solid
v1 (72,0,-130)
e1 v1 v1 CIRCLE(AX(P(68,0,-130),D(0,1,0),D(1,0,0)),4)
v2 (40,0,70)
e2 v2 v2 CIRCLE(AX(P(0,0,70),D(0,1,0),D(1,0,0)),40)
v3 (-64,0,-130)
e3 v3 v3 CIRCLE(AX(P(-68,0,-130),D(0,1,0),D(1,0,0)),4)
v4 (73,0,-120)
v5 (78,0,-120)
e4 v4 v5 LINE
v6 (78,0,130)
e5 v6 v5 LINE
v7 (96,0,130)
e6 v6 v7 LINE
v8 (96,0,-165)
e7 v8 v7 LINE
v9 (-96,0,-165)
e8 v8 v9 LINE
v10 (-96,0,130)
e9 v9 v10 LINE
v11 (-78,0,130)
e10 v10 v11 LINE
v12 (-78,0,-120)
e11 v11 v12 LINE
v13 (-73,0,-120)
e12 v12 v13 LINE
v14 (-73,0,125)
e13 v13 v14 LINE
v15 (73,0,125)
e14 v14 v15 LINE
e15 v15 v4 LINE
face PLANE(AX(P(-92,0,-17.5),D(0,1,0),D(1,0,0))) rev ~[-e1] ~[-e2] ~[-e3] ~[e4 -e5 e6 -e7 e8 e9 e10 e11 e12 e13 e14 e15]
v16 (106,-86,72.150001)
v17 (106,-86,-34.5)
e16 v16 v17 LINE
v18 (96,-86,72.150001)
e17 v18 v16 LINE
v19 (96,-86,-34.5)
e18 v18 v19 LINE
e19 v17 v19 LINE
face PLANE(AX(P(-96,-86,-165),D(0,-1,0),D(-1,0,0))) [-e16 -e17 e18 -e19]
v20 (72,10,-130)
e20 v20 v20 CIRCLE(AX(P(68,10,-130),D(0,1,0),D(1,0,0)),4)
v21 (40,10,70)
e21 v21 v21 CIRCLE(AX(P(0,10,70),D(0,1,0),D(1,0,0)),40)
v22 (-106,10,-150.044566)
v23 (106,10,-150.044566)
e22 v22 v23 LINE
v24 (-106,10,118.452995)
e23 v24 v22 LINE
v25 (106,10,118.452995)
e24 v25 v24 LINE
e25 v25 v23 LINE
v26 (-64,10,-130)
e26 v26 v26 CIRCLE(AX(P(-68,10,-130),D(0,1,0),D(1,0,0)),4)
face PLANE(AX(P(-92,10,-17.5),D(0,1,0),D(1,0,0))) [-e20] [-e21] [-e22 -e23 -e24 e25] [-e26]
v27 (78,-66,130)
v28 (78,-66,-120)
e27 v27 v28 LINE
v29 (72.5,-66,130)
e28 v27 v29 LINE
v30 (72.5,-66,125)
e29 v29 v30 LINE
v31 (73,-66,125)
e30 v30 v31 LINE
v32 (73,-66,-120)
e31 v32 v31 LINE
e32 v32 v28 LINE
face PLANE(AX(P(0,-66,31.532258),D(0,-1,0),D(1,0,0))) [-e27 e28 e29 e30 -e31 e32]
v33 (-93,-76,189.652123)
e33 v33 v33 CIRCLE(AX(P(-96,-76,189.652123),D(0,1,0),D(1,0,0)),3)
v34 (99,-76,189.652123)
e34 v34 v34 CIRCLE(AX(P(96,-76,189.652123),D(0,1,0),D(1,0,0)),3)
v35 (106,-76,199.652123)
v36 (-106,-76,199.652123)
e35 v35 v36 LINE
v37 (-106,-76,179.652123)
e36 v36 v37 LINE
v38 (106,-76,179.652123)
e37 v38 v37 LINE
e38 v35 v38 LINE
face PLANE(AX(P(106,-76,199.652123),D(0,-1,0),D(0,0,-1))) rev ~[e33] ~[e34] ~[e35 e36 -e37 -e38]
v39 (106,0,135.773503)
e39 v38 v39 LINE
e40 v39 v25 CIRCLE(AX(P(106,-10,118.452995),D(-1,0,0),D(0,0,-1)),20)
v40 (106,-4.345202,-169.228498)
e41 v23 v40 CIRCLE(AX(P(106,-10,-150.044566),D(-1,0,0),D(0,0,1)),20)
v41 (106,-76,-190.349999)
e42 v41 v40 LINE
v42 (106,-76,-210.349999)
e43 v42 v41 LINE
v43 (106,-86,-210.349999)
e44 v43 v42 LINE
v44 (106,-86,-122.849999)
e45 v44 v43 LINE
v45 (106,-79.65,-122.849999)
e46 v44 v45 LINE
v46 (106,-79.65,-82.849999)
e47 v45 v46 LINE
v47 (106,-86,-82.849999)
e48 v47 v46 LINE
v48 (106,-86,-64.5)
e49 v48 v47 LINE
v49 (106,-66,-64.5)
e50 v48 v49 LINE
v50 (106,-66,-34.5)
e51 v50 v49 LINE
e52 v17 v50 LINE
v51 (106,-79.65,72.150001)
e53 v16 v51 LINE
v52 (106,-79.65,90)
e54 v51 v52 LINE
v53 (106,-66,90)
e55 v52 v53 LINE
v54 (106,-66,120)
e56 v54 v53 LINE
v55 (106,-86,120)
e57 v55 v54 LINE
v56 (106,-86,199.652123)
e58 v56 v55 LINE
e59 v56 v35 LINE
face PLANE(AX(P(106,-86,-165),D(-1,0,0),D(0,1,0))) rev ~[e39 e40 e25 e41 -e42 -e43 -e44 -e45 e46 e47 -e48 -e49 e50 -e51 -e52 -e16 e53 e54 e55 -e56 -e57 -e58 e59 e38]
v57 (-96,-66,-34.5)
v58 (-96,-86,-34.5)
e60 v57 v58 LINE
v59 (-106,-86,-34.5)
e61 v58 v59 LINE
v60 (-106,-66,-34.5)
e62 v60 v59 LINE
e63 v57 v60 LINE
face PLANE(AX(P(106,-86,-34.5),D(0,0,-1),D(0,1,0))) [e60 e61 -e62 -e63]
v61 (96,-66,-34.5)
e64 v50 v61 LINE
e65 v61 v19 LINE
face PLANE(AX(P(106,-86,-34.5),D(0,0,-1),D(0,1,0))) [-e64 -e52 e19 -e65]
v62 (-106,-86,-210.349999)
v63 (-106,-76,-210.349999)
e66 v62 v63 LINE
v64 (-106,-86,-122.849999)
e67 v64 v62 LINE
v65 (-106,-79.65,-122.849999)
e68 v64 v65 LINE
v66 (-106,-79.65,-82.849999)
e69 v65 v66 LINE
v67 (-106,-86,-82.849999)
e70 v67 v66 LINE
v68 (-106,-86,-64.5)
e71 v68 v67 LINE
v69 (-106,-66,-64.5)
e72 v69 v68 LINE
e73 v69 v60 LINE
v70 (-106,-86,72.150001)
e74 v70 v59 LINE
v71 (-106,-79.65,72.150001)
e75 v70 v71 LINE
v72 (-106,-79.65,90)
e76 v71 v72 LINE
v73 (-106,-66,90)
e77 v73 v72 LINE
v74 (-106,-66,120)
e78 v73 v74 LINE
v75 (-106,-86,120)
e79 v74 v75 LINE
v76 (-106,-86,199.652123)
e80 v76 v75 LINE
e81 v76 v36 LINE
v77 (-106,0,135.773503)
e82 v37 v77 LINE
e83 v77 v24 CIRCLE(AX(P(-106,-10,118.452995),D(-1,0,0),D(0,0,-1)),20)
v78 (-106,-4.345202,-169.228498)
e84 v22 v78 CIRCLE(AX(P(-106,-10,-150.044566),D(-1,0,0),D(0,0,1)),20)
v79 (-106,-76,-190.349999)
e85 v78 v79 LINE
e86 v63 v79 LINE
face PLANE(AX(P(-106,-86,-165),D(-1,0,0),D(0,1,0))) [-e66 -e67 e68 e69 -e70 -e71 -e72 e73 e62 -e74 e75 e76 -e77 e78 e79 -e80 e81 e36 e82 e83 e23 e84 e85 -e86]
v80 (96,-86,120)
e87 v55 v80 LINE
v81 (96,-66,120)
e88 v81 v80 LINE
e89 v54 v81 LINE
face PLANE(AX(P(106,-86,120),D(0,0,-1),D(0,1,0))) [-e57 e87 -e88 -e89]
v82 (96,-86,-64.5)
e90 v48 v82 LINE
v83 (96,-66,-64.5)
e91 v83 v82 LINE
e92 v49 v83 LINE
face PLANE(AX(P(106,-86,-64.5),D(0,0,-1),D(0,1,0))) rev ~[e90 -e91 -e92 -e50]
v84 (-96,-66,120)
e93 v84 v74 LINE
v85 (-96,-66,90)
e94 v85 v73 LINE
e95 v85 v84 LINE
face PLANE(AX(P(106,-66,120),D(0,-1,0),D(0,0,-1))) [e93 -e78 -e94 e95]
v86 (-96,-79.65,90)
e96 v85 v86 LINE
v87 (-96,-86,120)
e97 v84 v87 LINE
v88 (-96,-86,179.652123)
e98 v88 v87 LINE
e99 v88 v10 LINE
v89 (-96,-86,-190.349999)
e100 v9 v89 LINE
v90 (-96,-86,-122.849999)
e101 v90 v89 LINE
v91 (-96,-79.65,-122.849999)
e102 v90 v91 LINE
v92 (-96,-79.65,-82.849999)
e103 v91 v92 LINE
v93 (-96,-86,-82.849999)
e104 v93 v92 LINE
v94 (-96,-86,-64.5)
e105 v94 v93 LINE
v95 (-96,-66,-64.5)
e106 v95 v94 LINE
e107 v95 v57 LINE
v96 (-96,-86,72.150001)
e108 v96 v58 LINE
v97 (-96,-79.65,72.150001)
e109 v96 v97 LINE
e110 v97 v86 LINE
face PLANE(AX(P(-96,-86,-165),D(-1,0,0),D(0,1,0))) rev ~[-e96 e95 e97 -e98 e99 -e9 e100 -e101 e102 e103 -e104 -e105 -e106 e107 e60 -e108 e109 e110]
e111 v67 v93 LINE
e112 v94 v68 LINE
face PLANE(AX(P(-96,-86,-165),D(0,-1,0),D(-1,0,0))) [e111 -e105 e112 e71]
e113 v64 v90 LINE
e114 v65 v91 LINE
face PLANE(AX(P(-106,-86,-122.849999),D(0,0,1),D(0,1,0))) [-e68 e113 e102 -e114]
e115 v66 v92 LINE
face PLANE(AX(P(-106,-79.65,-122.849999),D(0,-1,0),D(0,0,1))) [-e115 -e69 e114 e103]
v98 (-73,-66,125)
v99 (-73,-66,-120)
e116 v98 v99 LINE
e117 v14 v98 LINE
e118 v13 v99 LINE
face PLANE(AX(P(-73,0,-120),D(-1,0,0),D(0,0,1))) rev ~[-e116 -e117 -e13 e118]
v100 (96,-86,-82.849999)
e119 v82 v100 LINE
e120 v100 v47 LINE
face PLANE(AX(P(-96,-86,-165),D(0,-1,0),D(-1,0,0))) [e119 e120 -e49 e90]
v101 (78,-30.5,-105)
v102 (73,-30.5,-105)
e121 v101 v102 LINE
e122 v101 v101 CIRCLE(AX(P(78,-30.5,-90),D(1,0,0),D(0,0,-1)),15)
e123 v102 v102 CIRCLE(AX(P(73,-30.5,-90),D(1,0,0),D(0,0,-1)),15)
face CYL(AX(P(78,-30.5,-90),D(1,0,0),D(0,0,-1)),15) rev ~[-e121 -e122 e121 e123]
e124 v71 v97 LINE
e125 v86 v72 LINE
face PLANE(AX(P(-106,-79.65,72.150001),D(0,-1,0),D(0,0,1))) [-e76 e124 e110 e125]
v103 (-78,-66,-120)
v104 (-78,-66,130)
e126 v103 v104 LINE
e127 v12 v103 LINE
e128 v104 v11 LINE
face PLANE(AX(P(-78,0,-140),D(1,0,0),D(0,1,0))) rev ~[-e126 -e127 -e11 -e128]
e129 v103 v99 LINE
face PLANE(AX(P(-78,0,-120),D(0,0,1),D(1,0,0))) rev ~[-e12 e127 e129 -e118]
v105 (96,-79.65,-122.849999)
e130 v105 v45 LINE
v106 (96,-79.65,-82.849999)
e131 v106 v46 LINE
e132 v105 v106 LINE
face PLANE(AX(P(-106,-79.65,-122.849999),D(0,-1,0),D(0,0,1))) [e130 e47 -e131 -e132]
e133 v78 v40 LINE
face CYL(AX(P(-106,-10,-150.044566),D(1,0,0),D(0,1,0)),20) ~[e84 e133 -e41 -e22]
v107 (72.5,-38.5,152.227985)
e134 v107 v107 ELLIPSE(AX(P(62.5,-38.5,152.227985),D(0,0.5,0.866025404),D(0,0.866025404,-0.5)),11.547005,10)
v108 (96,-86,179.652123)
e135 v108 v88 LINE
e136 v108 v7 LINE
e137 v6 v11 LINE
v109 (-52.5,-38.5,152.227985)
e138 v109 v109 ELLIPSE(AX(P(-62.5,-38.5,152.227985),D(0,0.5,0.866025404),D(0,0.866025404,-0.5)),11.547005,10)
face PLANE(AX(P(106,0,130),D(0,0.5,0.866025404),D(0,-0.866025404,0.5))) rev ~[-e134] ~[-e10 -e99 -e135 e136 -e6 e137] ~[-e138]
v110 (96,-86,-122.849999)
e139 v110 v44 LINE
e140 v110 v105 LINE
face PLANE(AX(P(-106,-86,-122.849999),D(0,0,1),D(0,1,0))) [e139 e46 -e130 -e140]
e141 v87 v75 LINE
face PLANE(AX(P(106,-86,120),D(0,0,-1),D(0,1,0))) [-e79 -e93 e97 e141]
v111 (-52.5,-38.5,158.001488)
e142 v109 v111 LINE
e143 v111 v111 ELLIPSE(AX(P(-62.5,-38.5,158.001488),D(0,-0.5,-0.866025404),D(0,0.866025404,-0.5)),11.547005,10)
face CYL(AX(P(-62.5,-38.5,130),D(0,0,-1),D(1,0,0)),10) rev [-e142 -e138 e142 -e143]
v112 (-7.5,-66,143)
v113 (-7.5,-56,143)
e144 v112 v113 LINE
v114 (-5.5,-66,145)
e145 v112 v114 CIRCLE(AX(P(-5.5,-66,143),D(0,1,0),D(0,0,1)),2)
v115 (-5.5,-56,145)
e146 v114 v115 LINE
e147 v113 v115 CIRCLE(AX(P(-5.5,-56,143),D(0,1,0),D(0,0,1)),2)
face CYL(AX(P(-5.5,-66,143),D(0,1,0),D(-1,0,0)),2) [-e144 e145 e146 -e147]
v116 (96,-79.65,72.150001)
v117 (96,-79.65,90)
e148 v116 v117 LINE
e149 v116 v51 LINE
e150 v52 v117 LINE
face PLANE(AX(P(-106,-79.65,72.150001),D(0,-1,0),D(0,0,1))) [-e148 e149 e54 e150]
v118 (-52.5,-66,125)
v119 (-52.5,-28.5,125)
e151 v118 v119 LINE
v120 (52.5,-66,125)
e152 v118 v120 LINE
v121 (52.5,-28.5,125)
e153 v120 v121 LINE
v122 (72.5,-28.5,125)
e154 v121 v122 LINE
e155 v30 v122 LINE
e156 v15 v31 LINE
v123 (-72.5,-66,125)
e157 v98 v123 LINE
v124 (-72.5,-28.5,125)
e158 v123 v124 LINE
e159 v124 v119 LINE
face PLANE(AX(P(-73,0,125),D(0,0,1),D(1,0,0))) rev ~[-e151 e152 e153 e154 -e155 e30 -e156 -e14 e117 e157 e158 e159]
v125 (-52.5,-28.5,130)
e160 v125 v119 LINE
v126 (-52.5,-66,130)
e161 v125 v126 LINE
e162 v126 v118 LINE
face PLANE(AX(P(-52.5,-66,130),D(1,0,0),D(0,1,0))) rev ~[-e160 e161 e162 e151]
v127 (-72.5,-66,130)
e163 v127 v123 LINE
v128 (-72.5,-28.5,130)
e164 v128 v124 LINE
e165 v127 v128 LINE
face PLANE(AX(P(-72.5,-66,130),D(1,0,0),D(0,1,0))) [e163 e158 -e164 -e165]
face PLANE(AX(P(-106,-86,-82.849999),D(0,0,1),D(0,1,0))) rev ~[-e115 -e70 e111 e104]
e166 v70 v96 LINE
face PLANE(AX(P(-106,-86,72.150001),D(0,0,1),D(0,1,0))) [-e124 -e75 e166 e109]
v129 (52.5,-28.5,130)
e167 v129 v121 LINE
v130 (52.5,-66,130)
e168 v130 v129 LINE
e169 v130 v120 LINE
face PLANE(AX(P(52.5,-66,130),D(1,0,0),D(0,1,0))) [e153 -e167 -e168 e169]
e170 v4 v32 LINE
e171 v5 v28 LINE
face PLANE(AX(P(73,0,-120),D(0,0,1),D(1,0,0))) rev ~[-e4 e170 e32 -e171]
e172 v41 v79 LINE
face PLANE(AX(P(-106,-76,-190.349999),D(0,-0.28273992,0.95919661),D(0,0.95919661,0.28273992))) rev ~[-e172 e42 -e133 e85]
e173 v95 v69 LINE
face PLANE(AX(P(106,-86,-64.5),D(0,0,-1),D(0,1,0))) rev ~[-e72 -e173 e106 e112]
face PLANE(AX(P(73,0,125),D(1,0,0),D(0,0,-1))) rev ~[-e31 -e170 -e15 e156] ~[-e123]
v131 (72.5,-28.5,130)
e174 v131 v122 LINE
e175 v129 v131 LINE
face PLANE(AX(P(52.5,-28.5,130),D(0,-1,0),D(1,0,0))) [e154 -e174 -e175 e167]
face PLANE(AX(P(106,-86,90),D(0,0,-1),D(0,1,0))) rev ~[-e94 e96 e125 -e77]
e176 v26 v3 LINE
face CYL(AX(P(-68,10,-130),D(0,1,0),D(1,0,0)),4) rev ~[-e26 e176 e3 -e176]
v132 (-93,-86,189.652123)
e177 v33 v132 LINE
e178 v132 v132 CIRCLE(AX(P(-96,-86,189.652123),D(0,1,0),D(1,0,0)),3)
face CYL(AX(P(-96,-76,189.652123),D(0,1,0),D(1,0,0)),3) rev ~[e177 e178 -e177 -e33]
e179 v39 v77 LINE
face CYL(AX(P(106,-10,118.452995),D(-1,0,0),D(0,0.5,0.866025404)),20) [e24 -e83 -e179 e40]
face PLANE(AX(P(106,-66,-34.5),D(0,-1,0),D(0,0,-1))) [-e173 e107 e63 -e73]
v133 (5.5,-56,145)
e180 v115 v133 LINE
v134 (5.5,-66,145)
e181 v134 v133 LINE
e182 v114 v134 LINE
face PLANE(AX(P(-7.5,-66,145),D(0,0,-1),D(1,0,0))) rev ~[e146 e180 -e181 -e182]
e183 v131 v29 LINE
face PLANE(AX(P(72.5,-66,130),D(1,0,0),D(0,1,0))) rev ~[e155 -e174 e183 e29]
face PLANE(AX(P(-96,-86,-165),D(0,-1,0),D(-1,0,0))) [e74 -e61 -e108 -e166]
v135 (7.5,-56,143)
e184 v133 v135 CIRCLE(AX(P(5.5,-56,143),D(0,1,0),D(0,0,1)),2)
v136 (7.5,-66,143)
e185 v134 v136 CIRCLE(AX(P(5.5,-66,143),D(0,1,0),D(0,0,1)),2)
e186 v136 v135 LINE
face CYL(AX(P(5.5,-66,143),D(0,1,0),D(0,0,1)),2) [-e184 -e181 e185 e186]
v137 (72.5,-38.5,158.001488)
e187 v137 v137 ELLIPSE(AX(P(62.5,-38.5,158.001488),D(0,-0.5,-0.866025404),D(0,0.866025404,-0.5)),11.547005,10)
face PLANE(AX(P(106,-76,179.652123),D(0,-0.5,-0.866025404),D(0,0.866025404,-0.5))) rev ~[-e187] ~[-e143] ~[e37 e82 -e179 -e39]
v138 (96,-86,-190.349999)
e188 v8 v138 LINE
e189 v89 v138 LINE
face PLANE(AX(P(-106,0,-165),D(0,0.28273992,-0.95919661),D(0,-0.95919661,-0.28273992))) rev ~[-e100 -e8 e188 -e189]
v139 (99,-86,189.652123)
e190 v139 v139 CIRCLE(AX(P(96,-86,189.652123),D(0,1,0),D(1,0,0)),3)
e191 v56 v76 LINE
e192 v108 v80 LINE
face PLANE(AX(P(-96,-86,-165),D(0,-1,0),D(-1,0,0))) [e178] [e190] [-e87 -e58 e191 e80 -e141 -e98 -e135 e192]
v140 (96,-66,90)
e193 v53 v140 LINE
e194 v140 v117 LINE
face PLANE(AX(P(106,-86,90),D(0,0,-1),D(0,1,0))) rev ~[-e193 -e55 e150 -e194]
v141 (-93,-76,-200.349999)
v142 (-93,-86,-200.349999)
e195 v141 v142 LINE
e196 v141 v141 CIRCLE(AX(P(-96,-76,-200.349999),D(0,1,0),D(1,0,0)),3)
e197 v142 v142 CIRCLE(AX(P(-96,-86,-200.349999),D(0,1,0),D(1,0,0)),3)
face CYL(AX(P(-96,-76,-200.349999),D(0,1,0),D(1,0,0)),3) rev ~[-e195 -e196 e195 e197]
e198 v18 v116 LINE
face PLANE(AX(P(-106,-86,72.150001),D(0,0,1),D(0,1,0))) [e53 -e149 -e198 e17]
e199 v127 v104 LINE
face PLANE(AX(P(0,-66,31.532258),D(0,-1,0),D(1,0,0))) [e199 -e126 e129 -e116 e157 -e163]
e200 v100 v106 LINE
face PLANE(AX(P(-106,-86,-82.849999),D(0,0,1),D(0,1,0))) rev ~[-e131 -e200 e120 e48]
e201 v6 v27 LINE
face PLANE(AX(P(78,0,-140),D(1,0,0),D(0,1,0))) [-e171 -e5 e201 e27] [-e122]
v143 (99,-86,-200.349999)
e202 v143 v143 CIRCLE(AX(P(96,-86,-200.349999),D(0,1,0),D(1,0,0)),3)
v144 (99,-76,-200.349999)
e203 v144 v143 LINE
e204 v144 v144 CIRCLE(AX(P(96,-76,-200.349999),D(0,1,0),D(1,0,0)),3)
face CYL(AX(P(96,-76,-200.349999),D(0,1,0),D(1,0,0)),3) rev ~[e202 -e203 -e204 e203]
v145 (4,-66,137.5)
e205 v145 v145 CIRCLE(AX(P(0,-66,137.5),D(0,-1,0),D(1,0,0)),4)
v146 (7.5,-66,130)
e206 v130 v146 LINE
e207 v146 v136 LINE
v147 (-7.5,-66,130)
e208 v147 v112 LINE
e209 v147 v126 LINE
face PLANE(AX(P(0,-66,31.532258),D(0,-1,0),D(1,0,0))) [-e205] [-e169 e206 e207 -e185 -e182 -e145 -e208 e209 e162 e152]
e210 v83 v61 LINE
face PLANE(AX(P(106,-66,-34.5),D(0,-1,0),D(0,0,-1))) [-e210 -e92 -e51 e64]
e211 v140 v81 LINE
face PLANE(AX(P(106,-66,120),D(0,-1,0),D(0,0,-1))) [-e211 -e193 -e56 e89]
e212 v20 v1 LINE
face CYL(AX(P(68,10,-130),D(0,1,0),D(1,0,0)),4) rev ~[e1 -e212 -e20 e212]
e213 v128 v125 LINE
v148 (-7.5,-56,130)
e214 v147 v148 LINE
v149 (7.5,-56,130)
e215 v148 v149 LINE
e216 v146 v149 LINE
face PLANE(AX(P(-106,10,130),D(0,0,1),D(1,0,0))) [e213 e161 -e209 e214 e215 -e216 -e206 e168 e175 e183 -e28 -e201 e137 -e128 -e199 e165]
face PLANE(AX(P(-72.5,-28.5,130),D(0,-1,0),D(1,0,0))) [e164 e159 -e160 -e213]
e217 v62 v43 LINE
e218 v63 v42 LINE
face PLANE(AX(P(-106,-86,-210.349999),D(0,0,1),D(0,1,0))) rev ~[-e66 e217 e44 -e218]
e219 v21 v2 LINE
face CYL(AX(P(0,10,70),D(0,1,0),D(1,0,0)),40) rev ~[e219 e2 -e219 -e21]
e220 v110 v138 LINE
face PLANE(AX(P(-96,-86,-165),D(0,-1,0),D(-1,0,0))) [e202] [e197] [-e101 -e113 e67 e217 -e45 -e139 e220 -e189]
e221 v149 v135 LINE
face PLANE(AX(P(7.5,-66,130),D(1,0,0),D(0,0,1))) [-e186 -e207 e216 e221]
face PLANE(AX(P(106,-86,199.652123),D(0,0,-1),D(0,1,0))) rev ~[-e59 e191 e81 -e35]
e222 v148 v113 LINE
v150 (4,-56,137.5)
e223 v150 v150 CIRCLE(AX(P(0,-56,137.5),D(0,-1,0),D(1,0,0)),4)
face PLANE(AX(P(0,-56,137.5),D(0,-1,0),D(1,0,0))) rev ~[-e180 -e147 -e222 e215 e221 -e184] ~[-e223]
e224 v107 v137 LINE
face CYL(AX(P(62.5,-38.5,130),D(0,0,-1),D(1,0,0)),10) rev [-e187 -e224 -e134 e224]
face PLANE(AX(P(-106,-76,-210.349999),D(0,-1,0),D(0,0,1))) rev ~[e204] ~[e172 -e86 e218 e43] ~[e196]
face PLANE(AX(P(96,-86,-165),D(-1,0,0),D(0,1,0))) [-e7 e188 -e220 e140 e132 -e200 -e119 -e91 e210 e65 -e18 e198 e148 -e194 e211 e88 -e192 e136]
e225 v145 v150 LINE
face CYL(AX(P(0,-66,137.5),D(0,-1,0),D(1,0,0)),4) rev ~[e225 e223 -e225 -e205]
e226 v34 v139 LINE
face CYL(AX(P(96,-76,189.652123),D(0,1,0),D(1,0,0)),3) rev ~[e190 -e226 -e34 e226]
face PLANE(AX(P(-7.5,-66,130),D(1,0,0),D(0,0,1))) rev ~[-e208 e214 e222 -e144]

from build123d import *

# Parameters (mm, degrees)
SKETCH1_W                        = 156
SKETCH1_H                        = 260
BOSS_EXTRUDE1_DEPTH              = 10
BOSS_EXTRUDE2_DEPTH              = 66
SKETCH3_R                        = 40
CUT_EXTRUDE1_DEPTH               = 77
SKETCH4_W                        = 20
SKETCH4_H                        = 37.5
CUT_EXTRUDE2_DEPTH               = 5
SKETCH6_W                        = 15
SKETCH6_H                        = 15
BOSS_EXTRUDE3_DEPTH              = 10
SKETCH7_R                        = 4
CUT_EXTRUDE4_DEPTH               = 10
FILLET1_R                        = 2
SKETCH8_W                        = 156
SKETCH8_H                        = 10
BOSS_EXTRUDE4_DEPTH              = 10
SKETCH9_R                        = 4
CUT_EXTRUDE5_DEPTH               = 77
SKETCH10_W                       = 156
SKETCH10_H                       = 10
BOSS_EXTRUDE5_DEPTH              = 25
SKETCH11_W                       = 28
SKETCH11_H                       = 295
BOSS_EXTRUDE6_DEPTH              = 10
BOSS_EXTRUDE7_DEPTH              = 212
SKETCH13_R                       = 3
CUT_EXTRUDE6_DEPTH               = 11
BOSS_EXTRUDE10_DEPTH             = 212
SKETCH18_R                       = 3
CUT_EXTRUDE8_DEPTH               = 11
SKETCH19_R                       = 10
CUT_EXTRUDE9_DEPTH               = 113
BOSS_EXTRUDE11_REACH             = 47.35
SKETCH20_W                       = 10
SKETCH20_H                       = 86
BOSS_EXTRUDE11_DIRECTION_2_REACH = 366.652
FILLET2_R                        = 20
SKETCH21_R                       = 15
CUT_EXTRUDE11_DEPTH              = 5
SKETCH22_W                       = 30
SKETCH22_H                       = 20
CUT_EXTRUDE12_DEPTH              = 1
CUT_EXTRUDE12_DEPTH_BACK         = 213
SKETCH23_W                       = 40
SKETCH23_H                       = 6.35
CUT_EXTRUDE13_DEPTH              = 1
CUT_EXTRUDE13_DEPTH_BACK         = 213


with BuildPart() as part:
    # Sketch1 → Boss-Extrude1 (new body)
    with BuildSketch(Plane(origin=(0, 0, 0), x_dir=(1, 0, 0), z_dir=(0, 1, 0))):
        Rectangle(SKETCH1_W, SKETCH1_H)
    extrude(amount=BOSS_EXTRUDE1_DEPTH)

    # Sketch2 → Boss-Extrude2 (add)
    with BuildSketch(Plane.XZ):
        Polygon((-73, -120), (-73, 125), (73, 125), (73, -120), (78, -120), (78, 130), (-78, 130), (-78, -120), align=None)
    extrude(amount=BOSS_EXTRUDE2_DEPTH)

    # Sketch3 → Cut-Extrude1 (cut, through all)
    with BuildSketch(Plane(origin=(0, 10, 0), x_dir=(1, 0, 0), z_dir=(0, 1, 0))):
        with Locations((0, -70)):
            Circle(SKETCH3_R)
    extrude(amount=-CUT_EXTRUDE1_DEPTH, mode=Mode.SUBTRACT)

    # Sketch4 → Cut-Extrude2 (cut)
    with BuildSketch(Plane.XY.offset(130)):
        with Locations((-62.5, -47.25)):
            Rectangle(SKETCH4_W, SKETCH4_H)
        with Locations((62.5, -47.25)):
            Rectangle(SKETCH4_W, SKETCH4_H)
    extrude(amount=-CUT_EXTRUDE2_DEPTH, mode=Mode.SUBTRACT)

    # Sketch6 → Boss-Extrude3 (add)
    with BuildSketch(Plane.XZ.offset(66)):
        with Locations((0, 137.5)):
            Rectangle(SKETCH6_W, SKETCH6_H)
    extrude(amount=-BOSS_EXTRUDE3_DEPTH)

    # Sketch7 → Cut-Extrude4 (cut)
    with BuildSketch(Plane.XZ.offset(66)):
        with Locations((0, 137.5)):
            Circle(SKETCH7_R)
    extrude(amount=-CUT_EXTRUDE4_DEPTH, mode=Mode.SUBTRACT)

    # Fillet1
    fillet1_edges = [part.edges().sort_by_distance(p)[0] for p in [
        (7.5, -61, 145),
        (-7.5, -61, 145),
    ]]
    fillet(fillet1_edges, radius=FILLET1_R)

    # Sketch8 → Boss-Extrude4 (add)
    with BuildSketch(Plane(origin=(0, 0, -130), x_dir=(-1, 0, 0), z_dir=(0, 0, -1))):
        with Locations((0, 5)):
            Rectangle(SKETCH8_W, SKETCH8_H)
    extrude(amount=BOSS_EXTRUDE4_DEPTH)

    # Sketch9 → Cut-Extrude5 (cut, through all)
    with BuildSketch(Plane(origin=(0, 10, 0), x_dir=(1, 0, 0), z_dir=(0, 1, 0))):
        with Locations((-68, 130)):
            Circle(SKETCH9_R)
        with Locations((68, 130)):
            Circle(SKETCH9_R)
    extrude(amount=-CUT_EXTRUDE5_DEPTH, mode=Mode.SUBTRACT)

    # Sketch10 → Boss-Extrude5 (add)
    with BuildSketch(Plane(origin=(0, 0, -140), x_dir=(-1, 0, 0), z_dir=(0, 0, -1))):
        with Locations((0, 5)):
            Rectangle(SKETCH10_W, SKETCH10_H)
    extrude(amount=BOSS_EXTRUDE5_DEPTH)

    # Sketch11 → Boss-Extrude6 (add)
    with BuildSketch(Plane(origin=(0, 10, 0), x_dir=(1, 0, 0), z_dir=(0, 1, 0))):
        with Locations((-92, 17.5)):
            Rectangle(SKETCH11_W, SKETCH11_H)
        with Locations((92, 17.5)):
            Rectangle(SKETCH11_W, SKETCH11_H)
    extrude(amount=-BOSS_EXTRUDE6_DEPTH)

    # Sketch12 → Boss-Extrude7 (add)
    with BuildSketch(Plane.ZY.offset(106)):
        Polygon((-165, 0), (-190.349999035, -86), (-210.349999035, -86), (-210.349999035, -76), (-190.349999035, -76), (-165, 10), align=None)
    extrude(amount=-BOSS_EXTRUDE7_DEPTH)

    # Sketch13 → Cut-Extrude6 (cut, through all)
    with BuildSketch(Plane(origin=(0, -76, 0), x_dir=(1, 0, 0), z_dir=(0, 1, 0))):
        with Locations((-96, 200.349999035)):
            Circle(SKETCH13_R)
        with Locations((96, 200.349999035)):
            Circle(SKETCH13_R)
    extrude(amount=-CUT_EXTRUDE6_DEPTH, mode=Mode.SUBTRACT)

    # Sketch17 → Boss-Extrude10 (add)
    with BuildSketch(Plane(origin=(106, 0, 0), x_dir=(0, 0, -1), z_dir=(1, 0, 0))):
        Polygon((-130, 0), (-179.65212315, -86), (-199.65212315, -86), (-199.65212315, -76), (-179.65212315, -76), (-130, 10), align=None)
    extrude(amount=-BOSS_EXTRUDE10_DEPTH)

    # Sketch18 → Cut-Extrude8 (cut, through all)
    with BuildSketch(Plane(origin=(0, -76, 0), x_dir=(1, 0, 0), z_dir=(0, 1, 0))):
        with Locations((-96, -189.65212315)):
            Circle(SKETCH18_R)
        with Locations((96, -189.65212315)):
            Circle(SKETCH18_R)
    extrude(amount=-CUT_EXTRUDE8_DEPTH, mode=Mode.SUBTRACT)

    # Sketch19 → Cut-Extrude9 (cut)
    with BuildSketch(Plane.XY.offset(130)):
        with Locations((-62.5, -38.5)):
            Circle(SKETCH19_R)
        with Locations((62.5, -38.5)):
            Circle(SKETCH19_R)
    extrude(amount=CUT_EXTRUDE9_DEPTH, mode=Mode.SUBTRACT)

    # Boss-Extrude11: up to this face of the body (flat: up to its plane)
    boss_extrude11_end = Plane(part.part.faces().sort_by_distance((0, -33, -177.674999518))[0])
    # Sketch20 → Boss-Extrude11 (add, up to the picked face)
    with BuildSketch(Plane(origin=(0, 0, -165), x_dir=(-1, 0, 0), z_dir=(0, 0, -1)), mode=Mode.PRIVATE) as boss_extrude11_sk1:
        with Locations((-101, -43)):
            Rectangle(SKETCH20_W, SKETCH20_H)
    boss_extrude11_tool1 = split(extrude(boss_extrude11_sk1.sketch, amount=BOSS_EXTRUDE11_REACH, mode=Mode.PRIVATE), bisect_by=boss_extrude11_end, keep=Keep.BOTH, mode=Mode.PRIVATE)
    add(boss_extrude11_tool1.solids().sort_by_distance((101, -43, -165))[0])
    # Sketch20 → Boss-Extrude11 (add, up to the picked face)
    with BuildSketch(Plane(origin=(0, 0, -165), x_dir=(-1, 0, 0), z_dir=(0, 0, -1)), mode=Mode.PRIVATE) as boss_extrude11_sk2:
        with Locations((101, -43)):
            Rectangle(SKETCH20_W, SKETCH20_H)
    boss_extrude11_tool2 = split(extrude(boss_extrude11_sk2.sketch, amount=BOSS_EXTRUDE11_REACH, mode=Mode.PRIVATE), bisect_by=boss_extrude11_end, keep=Keep.BOTH, mode=Mode.PRIVATE)
    add(boss_extrude11_tool2.solids().sort_by_distance((-101, -43, -165))[0])

    # Sketch20 → Boss-Extrude11 direction 2 (add, up to next)
    with BuildSketch(Plane(origin=(0, 0, -165), x_dir=(-1, 0, 0), z_dir=(0, 0, -1)), mode=Mode.PRIVATE) as boss_extrude11_direction_2_sk1:
        with Locations((-101, -43)):
            Rectangle(SKETCH20_W, SKETCH20_H)
    boss_extrude11_direction_2_tool1 = extrude(boss_extrude11_direction_2_sk1.sketch, amount=-BOSS_EXTRUDE11_DIRECTION_2_REACH, mode=Mode.PRIVATE) - part.part
    add(boss_extrude11_direction_2_tool1.solids().sort_by_distance((101, -43, -165))[0])
    # Sketch20 → Boss-Extrude11 direction 2 (add, up to next)
    with BuildSketch(Plane(origin=(0, 0, -165), x_dir=(-1, 0, 0), z_dir=(0, 0, -1)), mode=Mode.PRIVATE) as boss_extrude11_direction_2_sk2:
        with Locations((101, -43)):
            Rectangle(SKETCH20_W, SKETCH20_H)
    boss_extrude11_direction_2_tool2 = extrude(boss_extrude11_direction_2_sk2.sketch, amount=-BOSS_EXTRUDE11_DIRECTION_2_REACH, mode=Mode.PRIVATE) - part.part
    add(boss_extrude11_direction_2_tool2.solids().sort_by_distance((-101, -43, -165))[0])

    # Fillet2
    fillet2_edges = [part.edges().sort_by_distance(p)[0] for p in [
        (0, 10, -165),
        (0, 10, 130),
    ]]
    fillet(fillet2_edges, radius=FILLET2_R)

    # Sketch21 → Cut-Extrude11 (cut)
    with BuildSketch(Plane(origin=(78, 0, 0), x_dir=(0, 0, -1), z_dir=(1, 0, 0))):
        with Locations((90, -30.5)):
            Circle(SKETCH21_R)
    extrude(amount=-CUT_EXTRUDE11_DEPTH, mode=Mode.SUBTRACT)

    # Sketch22 → Cut-Extrude12 (cut, two sides)
    with BuildSketch(Plane(origin=(106, 0, 0), x_dir=(0, 0, -1), z_dir=(1, 0, 0))) as cut_extrude12_sk:
        with Locations((-105, -76)):
            Rectangle(SKETCH22_W, SKETCH22_H)
        with Locations((49.5, -76)):
            Rectangle(SKETCH22_W, SKETCH22_H)
    extrude(amount=CUT_EXTRUDE12_DEPTH, mode=Mode.SUBTRACT)
    extrude(cut_extrude12_sk.sketch, amount=-CUT_EXTRUDE12_DEPTH_BACK, mode=Mode.SUBTRACT)

    # Sketch23 → Cut-Extrude13 (cut, two sides)
    with BuildSketch(Plane.ZY.offset(106)) as cut_extrude13_sk:
        with Locations((-102.849999035, -82.825)):
            Rectangle(SKETCH23_W, SKETCH23_H)
        with Locations((92.150000965, -82.825)):
            Rectangle(SKETCH23_W, SKETCH23_H)
    extrude(amount=CUT_EXTRUDE13_DEPTH, mode=Mode.SUBTRACT)
    extrude(cut_extrude13_sk.sketch, amount=-CUT_EXTRUDE13_DEPTH_BACK, mode=Mode.SUBTRACT)


solid = part.part
